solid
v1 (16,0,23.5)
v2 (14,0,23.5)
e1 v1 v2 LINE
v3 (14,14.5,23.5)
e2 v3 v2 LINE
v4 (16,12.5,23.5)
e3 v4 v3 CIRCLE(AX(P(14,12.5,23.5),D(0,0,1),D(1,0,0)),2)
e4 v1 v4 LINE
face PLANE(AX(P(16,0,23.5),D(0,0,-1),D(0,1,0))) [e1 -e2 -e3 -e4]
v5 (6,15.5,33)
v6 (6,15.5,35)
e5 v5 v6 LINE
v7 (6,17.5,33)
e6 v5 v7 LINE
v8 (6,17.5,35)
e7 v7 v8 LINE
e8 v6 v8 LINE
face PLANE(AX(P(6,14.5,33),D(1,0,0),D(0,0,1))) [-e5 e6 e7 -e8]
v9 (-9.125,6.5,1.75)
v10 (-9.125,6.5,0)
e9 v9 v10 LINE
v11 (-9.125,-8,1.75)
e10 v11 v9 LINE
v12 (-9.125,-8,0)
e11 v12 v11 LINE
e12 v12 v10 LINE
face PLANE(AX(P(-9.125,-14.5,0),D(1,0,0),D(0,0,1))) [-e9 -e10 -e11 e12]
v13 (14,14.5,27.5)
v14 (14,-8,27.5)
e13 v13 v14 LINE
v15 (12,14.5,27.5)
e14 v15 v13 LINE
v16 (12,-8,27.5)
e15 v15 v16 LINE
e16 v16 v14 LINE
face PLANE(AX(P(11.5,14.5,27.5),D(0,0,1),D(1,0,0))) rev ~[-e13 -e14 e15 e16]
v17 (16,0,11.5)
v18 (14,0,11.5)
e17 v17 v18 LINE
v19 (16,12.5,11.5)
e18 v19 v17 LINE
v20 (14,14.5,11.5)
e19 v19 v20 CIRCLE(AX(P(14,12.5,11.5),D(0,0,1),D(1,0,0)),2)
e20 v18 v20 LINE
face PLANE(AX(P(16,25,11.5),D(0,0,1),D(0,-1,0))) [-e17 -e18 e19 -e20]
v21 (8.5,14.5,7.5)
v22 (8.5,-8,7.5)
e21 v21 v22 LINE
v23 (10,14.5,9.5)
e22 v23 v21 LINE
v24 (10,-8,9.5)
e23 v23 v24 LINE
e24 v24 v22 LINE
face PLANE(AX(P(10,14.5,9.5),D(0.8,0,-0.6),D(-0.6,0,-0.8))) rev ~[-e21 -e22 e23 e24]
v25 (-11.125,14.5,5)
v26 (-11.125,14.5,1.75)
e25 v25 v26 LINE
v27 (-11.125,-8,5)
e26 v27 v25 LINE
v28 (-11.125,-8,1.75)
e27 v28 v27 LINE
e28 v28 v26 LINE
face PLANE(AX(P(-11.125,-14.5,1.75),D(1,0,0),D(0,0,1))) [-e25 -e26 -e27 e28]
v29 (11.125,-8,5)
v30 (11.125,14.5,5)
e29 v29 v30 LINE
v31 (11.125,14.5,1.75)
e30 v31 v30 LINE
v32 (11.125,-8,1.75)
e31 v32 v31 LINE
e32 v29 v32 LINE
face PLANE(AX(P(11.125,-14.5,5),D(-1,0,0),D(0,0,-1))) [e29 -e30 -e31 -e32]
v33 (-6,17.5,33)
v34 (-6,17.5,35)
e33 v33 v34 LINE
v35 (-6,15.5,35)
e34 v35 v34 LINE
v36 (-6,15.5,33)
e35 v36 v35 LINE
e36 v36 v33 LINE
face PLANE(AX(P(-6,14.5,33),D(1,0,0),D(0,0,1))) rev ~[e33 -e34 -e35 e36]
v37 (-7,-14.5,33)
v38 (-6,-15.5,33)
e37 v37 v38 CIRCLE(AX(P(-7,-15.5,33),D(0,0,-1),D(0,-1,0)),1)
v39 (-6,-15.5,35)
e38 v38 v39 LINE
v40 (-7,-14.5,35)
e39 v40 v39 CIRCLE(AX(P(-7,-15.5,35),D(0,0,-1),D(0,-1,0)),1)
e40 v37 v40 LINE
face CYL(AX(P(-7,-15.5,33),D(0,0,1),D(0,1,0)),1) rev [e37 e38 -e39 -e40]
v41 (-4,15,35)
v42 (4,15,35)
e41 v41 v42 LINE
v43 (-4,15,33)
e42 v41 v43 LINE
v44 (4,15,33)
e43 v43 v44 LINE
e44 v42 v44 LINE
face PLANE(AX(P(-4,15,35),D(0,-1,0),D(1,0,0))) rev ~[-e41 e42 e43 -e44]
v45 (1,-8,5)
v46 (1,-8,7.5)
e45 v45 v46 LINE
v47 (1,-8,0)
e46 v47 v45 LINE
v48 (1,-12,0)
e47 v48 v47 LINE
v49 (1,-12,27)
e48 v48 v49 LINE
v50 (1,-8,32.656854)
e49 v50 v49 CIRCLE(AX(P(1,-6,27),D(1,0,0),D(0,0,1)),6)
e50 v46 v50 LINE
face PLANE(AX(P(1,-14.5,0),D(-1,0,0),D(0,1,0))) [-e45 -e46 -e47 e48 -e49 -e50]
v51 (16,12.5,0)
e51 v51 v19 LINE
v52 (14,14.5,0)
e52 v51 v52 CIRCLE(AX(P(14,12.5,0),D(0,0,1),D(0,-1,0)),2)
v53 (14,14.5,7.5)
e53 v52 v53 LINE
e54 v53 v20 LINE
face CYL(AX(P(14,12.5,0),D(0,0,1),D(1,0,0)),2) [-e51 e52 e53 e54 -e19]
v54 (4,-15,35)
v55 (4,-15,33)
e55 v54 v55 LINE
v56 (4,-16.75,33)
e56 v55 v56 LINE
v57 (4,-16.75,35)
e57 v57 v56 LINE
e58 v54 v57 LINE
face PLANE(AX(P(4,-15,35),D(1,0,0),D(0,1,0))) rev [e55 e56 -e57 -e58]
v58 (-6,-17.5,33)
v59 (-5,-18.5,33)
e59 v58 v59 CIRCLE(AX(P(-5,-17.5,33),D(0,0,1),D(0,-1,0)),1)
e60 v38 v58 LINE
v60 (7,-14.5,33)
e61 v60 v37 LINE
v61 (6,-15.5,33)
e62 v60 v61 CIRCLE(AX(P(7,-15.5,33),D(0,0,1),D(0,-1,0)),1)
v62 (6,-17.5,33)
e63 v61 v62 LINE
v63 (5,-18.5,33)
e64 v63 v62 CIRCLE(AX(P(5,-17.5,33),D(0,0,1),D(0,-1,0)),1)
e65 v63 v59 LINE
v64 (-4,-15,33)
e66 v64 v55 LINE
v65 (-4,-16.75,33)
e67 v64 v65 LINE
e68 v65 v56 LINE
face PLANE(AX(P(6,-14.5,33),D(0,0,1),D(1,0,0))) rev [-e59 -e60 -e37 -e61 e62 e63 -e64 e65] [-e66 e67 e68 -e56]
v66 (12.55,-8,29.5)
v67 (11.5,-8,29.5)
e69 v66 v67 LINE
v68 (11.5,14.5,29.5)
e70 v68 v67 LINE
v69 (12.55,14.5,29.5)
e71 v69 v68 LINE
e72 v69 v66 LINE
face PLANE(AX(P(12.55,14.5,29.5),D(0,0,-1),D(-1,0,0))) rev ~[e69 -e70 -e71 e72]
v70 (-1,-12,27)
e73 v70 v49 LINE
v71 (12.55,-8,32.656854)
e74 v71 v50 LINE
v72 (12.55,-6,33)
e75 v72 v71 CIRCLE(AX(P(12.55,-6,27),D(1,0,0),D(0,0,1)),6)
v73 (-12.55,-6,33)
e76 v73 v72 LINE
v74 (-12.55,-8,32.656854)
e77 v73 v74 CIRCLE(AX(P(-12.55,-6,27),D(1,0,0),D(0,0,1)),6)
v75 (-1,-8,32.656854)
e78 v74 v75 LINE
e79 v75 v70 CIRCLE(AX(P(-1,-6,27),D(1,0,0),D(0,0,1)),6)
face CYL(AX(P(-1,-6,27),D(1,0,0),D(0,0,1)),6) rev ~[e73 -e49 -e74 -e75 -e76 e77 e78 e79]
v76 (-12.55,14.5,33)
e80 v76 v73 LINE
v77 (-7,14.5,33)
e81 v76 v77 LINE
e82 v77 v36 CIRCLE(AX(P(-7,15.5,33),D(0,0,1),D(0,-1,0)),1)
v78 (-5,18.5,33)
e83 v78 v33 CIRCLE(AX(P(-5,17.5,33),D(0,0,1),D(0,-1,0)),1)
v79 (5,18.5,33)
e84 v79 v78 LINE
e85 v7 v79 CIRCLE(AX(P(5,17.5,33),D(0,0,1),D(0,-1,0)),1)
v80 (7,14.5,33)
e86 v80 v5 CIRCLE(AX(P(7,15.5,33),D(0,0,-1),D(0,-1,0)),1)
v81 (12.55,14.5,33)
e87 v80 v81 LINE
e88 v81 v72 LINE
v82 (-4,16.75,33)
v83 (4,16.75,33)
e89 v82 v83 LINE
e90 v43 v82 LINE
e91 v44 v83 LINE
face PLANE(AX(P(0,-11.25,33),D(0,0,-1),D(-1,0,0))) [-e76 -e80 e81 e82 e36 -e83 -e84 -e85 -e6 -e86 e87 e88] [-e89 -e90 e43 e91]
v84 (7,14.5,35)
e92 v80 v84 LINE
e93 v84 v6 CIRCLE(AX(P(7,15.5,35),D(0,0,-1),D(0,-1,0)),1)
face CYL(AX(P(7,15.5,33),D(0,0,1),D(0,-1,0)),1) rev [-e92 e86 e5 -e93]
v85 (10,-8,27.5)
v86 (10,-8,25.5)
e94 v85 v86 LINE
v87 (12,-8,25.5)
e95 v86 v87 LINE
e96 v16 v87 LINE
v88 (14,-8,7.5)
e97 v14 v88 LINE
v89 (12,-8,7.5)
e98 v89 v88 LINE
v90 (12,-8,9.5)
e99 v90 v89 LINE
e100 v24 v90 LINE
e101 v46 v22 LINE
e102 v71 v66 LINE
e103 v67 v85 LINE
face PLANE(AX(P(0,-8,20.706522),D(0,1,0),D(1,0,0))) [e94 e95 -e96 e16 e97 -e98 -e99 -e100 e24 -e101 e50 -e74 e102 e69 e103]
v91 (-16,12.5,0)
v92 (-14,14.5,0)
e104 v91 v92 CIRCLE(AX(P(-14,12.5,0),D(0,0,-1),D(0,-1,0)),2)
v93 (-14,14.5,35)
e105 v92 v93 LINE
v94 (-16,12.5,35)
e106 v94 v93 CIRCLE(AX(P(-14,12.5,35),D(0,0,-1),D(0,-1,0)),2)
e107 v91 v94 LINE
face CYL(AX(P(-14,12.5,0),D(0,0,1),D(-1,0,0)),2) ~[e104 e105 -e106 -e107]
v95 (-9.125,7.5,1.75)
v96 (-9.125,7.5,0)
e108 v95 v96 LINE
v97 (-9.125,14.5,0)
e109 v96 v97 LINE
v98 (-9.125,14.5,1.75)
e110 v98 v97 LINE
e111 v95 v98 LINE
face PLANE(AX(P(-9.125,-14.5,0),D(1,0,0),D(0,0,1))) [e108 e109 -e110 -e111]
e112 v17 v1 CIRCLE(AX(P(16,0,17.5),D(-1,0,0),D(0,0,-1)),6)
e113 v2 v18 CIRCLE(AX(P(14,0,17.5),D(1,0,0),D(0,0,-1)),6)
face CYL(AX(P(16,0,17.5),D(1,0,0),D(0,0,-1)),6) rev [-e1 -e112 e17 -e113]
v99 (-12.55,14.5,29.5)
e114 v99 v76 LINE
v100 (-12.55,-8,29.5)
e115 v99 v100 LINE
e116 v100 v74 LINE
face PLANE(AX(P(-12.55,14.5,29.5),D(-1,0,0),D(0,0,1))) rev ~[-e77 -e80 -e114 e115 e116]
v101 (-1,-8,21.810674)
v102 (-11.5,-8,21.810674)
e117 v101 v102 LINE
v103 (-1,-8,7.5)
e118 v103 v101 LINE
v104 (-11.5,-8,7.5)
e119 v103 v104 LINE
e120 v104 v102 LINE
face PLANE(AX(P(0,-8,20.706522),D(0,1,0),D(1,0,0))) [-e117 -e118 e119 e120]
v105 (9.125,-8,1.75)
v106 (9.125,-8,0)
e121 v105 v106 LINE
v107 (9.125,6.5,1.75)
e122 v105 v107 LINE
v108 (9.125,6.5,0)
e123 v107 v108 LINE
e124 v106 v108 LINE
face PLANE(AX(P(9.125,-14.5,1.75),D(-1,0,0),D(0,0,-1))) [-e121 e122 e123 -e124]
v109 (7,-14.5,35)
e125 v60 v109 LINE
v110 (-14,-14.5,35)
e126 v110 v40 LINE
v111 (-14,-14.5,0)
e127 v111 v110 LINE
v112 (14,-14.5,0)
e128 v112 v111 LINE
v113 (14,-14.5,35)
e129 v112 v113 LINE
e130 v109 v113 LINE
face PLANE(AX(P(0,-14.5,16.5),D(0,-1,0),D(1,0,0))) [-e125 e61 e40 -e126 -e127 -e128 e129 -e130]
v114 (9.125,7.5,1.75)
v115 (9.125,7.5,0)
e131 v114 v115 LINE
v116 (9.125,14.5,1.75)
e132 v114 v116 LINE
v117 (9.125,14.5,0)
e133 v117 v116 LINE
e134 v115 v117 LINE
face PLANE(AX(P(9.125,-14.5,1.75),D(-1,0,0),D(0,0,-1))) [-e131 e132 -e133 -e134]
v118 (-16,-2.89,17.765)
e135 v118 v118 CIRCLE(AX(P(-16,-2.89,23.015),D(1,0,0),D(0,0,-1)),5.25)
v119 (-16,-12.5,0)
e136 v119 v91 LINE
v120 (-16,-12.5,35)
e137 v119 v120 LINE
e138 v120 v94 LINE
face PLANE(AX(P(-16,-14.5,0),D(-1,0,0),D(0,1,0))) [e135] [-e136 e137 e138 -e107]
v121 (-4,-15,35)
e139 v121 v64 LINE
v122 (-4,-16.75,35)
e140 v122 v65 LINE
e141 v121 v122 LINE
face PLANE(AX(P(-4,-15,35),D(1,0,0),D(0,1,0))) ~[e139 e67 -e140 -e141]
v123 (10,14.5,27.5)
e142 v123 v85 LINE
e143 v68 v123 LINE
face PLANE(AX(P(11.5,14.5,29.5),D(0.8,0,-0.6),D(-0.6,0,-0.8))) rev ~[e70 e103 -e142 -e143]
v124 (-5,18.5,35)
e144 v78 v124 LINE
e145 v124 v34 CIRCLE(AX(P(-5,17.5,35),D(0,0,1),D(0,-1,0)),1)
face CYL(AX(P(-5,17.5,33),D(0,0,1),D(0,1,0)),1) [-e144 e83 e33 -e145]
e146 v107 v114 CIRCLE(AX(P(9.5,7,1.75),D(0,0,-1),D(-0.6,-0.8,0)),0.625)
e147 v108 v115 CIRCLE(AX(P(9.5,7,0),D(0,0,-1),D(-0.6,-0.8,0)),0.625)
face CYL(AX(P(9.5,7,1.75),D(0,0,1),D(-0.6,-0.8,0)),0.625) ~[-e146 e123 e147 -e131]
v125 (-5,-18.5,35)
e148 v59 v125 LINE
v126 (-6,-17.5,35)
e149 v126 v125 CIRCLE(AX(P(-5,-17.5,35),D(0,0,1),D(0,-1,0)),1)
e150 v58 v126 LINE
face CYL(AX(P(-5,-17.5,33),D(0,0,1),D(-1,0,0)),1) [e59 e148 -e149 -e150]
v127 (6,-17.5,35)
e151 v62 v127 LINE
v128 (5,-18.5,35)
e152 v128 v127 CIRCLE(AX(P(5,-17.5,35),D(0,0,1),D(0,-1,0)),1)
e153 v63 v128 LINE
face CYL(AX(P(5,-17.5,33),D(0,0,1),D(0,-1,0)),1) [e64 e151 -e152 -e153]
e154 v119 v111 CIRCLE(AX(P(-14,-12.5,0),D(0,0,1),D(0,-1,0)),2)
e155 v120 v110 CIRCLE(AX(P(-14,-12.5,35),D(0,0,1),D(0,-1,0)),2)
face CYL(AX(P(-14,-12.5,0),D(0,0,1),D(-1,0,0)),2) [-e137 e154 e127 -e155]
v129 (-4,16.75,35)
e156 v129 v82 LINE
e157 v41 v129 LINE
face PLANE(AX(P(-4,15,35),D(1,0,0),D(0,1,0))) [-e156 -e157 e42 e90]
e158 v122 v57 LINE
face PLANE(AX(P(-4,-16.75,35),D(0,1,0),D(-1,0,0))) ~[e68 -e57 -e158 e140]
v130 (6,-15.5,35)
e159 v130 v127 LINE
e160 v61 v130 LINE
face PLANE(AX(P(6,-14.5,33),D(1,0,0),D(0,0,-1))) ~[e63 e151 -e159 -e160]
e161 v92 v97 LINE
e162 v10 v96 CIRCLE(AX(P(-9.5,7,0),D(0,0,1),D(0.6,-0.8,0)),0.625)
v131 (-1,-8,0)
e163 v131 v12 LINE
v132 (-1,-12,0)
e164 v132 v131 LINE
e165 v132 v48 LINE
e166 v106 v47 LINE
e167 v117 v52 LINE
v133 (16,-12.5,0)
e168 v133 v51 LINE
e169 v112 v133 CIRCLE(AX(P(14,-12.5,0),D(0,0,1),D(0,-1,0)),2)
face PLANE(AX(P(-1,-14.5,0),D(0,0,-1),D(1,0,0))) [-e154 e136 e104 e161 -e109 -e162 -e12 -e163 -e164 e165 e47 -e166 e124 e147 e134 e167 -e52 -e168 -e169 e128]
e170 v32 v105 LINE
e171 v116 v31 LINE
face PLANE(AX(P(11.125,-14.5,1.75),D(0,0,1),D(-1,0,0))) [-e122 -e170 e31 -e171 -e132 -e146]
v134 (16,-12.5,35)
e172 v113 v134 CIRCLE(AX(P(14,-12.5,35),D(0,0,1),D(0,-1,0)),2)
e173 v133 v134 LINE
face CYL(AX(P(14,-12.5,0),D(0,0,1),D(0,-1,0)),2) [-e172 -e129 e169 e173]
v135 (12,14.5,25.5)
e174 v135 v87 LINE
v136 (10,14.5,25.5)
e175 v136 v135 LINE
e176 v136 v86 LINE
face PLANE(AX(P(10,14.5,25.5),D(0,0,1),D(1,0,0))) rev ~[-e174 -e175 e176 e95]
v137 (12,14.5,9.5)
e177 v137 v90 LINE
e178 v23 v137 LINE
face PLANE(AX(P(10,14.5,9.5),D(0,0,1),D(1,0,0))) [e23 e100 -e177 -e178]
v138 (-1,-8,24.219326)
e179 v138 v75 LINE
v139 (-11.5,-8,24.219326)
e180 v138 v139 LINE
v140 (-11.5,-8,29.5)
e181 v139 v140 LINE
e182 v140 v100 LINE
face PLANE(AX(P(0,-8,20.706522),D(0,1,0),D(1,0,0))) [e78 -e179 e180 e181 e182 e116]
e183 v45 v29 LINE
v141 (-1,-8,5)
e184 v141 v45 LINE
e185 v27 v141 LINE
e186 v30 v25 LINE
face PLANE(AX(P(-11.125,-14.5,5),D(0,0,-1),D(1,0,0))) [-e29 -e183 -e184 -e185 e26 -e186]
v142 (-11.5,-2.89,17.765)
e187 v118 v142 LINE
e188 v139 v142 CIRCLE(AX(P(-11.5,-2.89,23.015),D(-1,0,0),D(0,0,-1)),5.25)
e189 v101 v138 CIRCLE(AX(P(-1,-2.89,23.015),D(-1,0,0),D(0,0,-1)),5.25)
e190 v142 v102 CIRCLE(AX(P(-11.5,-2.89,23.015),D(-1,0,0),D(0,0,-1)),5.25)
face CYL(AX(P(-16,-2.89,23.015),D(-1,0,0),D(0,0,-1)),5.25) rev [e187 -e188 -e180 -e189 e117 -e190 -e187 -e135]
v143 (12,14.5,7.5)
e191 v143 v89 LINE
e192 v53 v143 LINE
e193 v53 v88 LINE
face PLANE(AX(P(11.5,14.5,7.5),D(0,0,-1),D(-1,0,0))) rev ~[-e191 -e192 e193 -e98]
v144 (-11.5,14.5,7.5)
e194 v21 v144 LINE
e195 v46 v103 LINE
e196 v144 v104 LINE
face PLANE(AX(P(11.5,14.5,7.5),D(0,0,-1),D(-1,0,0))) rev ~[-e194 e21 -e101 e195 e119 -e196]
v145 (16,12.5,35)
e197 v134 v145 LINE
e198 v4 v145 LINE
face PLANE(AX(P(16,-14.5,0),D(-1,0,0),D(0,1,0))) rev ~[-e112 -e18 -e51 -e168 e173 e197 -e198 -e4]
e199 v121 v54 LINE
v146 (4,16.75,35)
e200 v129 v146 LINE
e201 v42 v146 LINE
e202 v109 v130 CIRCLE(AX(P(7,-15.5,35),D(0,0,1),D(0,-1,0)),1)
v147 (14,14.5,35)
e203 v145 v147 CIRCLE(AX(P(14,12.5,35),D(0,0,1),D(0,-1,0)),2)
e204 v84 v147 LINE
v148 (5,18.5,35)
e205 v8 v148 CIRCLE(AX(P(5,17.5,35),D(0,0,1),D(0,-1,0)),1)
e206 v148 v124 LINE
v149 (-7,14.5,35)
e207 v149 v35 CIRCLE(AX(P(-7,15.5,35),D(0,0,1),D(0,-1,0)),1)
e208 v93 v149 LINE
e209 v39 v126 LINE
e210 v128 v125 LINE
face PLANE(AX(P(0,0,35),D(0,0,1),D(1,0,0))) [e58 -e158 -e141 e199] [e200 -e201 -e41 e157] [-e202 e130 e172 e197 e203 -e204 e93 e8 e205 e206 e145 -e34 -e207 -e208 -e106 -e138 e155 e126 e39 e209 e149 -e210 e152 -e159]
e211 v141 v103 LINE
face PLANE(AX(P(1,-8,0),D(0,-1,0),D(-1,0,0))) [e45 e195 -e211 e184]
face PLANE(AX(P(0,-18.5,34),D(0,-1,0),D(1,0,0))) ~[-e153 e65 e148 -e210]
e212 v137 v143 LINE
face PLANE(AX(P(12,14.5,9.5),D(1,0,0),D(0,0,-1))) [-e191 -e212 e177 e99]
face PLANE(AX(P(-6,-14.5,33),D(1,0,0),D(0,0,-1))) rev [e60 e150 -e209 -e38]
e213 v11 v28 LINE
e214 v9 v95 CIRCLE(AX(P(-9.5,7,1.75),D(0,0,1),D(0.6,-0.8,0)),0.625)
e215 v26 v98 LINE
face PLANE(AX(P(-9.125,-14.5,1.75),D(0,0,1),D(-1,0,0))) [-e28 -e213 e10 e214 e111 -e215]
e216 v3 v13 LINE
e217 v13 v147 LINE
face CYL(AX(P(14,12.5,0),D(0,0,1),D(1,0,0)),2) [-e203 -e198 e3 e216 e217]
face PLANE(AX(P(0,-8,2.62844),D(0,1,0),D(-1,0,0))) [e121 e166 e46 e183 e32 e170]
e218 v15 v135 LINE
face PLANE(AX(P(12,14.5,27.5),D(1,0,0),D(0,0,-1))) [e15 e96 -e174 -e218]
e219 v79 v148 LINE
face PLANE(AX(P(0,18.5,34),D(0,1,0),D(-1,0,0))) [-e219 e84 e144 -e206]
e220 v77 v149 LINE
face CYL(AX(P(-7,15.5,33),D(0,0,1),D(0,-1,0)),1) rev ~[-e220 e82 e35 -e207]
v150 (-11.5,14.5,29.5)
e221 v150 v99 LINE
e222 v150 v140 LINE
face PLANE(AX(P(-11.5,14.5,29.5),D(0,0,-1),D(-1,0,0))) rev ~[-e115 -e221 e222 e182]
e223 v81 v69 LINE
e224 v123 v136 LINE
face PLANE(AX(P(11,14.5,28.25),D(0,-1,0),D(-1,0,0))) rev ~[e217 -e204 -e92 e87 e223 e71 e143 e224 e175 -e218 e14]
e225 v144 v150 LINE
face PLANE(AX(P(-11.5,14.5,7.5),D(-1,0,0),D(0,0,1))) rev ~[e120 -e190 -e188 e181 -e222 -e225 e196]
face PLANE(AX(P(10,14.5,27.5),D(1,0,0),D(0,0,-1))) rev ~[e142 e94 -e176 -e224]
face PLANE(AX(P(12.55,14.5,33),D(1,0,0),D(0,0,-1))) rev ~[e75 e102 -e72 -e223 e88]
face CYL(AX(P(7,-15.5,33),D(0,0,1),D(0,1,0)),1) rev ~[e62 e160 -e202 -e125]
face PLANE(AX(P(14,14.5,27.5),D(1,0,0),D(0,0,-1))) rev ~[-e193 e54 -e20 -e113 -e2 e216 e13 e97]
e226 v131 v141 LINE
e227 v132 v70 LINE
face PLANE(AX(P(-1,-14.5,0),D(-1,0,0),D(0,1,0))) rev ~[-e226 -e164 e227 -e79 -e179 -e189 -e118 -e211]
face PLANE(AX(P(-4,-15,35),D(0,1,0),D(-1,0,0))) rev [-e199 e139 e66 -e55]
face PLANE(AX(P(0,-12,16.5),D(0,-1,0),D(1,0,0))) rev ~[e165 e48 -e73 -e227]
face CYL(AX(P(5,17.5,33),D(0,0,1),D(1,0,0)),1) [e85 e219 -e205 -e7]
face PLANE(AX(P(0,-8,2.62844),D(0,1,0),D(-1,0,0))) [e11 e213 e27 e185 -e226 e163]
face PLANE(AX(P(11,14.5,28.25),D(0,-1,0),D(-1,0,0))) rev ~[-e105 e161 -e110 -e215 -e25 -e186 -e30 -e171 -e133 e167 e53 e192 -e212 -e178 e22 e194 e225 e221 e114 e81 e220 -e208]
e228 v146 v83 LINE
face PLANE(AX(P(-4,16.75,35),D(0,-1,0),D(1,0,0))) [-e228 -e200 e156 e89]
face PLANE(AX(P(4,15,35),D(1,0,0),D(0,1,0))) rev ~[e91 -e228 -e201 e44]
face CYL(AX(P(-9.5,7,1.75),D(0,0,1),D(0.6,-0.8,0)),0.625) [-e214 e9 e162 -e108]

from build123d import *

# Parameters (mm, degrees)
SKETCH1_W                         = 32
SKETCH1_H                         = 29
BOSS_EXTRUDE1_DEPTH               = 35
FILLET1_R                         = 2
SLOT_FOR_COIL_DEPTH               = 1
SLOT_FOR_COIL_DEPTH_BACK          = 30
BOSS_EXTRUDE2_DEPTH               = 6.5
BOSS_EXTRUDE3_DEPTH               = 1.75
SKETCH5_W                         = 2
SKETCH5_H                         = 6.5
SLOT_TO_FEED_IN_WIRE_DEPTH        = 33
SLOT_FO_PCB_DEPTH                 = 22.5
SKETCH7_W                         = 2
SKETCH7_H                         = 33
BOSS_EXTRUDE4_DEPTH               = 2.5
FILLET2_R                         = 6
ROD_MOUNT_SLOT_REACH              = 34
SKETCH14_W                        = 2.5
SKETCH14_H                        = 20
SIDE_CAVITY_FOR_MOUNT_PLATE_DEPTH = 22.5
SKETCH16_W                        = 2
SKETCH16_H                        = 2
SIDE_STOPS_FOR_MOUNT_PLATE_DEPTH  = 22.5
BOSS_EXTRUDE6_DEPTH               = 22.5
SKETCH21_W                        = 12
SKETCH21_H                        = 2
BOSS_EXTRUDE7_DEPTH               = 4
SKETCH23_W                        = 8
SKETCH23_H                        = 1.75
CUT_EXTRUDE7_DEPTH                = 2
FILLET3_R                         = 1
CUT_EXTRUDE8_REACH                = 34
SKETCH26_R                        = 5.25


with BuildPart() as part:
    # Sketch1 → Boss-Extrude1 (new body)
    with BuildSketch(Plane.XY):
        Rectangle(SKETCH1_W, SKETCH1_H)
    extrude(amount=BOSS_EXTRUDE1_DEPTH)

    # Fillet1
    fillet1_edges = [part.edges().sort_by_distance(p)[0] for p in [
        (16, -14.5, 17.5),
        (-16, -14.5, 17.5),
        (-16, 14.5, 17.5),
        (16, 14.5, 17.5),
    ]]
    fillet(fillet1_edges, radius=FILLET1_R)

    # Sketch2 → Slot for Coil (cut, two sides)
    with BuildSketch(Plane.XZ.offset(14.5)) as slot_for_coil_sk:
        Polygon((-9.125, 0), (-9.125, 1.75), (-11.125, 1.75), (-11.125, 5), (11.125, 5), (11.125, 1.75), (9.125, 1.75), (9.125, 0), align=None)
    extrude(amount=SLOT_FOR_COIL_DEPTH, mode=Mode.SUBTRACT)
    extrude(slot_for_coil_sk.sketch, amount=-SLOT_FOR_COIL_DEPTH_BACK, mode=Mode.SUBTRACT)

    # Sketch3 → Boss-Extrude2 (add)
    with BuildSketch(Plane.XZ.offset(14.5)):
        Polygon((-9.125, 0), (-9.125, 1.75), (-11.125, 1.75), (-11.125, 5), (11.125, 5), (11.125, 1.75), (9.125, 1.75), (9.125, 0), align=None)
    extrude(amount=-BOSS_EXTRUDE2_DEPTH)

    # Sketch4 → Boss-Extrude3 (add)
    with BuildSketch(Plane(origin=(0, 0, 1.75), x_dir=(-1, 0, 0), z_dir=(0, 0, -1))):
        with BuildLine():
            Line((-9.125, 7.5), (-9.125, 6.5))
            ThreePointArc((-9.125, 6.5), (-8.875, 7), (-9.125, 7.5))
        make_face()
    boss_extrude3 = extrude(amount=BOSS_EXTRUDE3_DEPTH)

    # Mirror1: Boss-Extrude3 across plane
    add(boss_extrude3.mirror(Plane(origin=(0, 0, 0), x_dir=(0, 0, 1), z_dir=(1, 0, 0))))

    # Sketch5 → slot to feed in wire (cut)
    with BuildSketch(Plane(origin=(0, 0, 0), x_dir=(-1, 0, 0), z_dir=(0, 0, -1))):
        with Locations((0, -11.25)):
            Rectangle(SKETCH5_W, SKETCH5_H)
    extrude(amount=-SLOT_TO_FEED_IN_WIRE_DEPTH, mode=Mode.SUBTRACT)

    # Sketch6 → slot fo PCB (cut)
    with BuildSketch(Plane(origin=(0, 14.5, 0), x_dir=(1, 0, 0), z_dir=(0, 1, 0))):
        Polygon((11.5, -7.5), (-11.5, -7.5), (-11.5, -29.5), (-12.55, -29.5), (-12.55, -33), (12.55, -33), (12.55, -29.5), (11.5, -29.5), align=None)
    extrude(amount=-SLOT_FO_PCB_DEPTH, mode=Mode.SUBTRACT)

    # Sketch7 → Boss-Extrude4 (add)
    with BuildSketch(Plane.XZ.offset(14.5)):
        with Locations((0, 16.5)):
            Rectangle(SKETCH7_W, SKETCH7_H)
    extrude(amount=-BOSS_EXTRUDE4_DEPTH)

    # Fillet2
    fillet2_edges = [part.edges().sort_by_distance(p)[0] for p in [
        (0, -12, 33),
    ]]
    fillet(fillet2_edges, radius=FILLET2_R)

    # Sketch11 → Rod Mount Slot (cut, up to next)
    with BuildSketch(Plane(origin=(16, 0, 44), x_dir=(0, 0, -1), z_dir=(1, 0, 0)), mode=Mode.PRIVATE) as rod_mount_slot_sk1:
        with BuildLine():
            Line((32.5, 25), (32.5, 0))
            ThreePointArc((32.5, 0), (26.5, -6), (20.5, 0))
            Line((20.5, 0), (20.5, 25))
            ThreePointArc((20.5, 25), (26.5, 31), (32.5, 25))
        make_face()
    rod_mount_slot_tool1 = extrude(rod_mount_slot_sk1.sketch, amount=-ROD_MOUNT_SLOT_REACH, mode=Mode.PRIVATE) & part.part
    add(rod_mount_slot_tool1.solids().sort_by_distance((16, 12.5, 17.5))[0], mode=Mode.SUBTRACT)

    # Sketch14 → Side cavity for mount plate (cut)
    with BuildSketch(Plane(origin=(0, 14.5, 0), x_dir=(1, 0, 0), z_dir=(0, 1, 0))):
        with Locations((12.75, -17.5)):
            Rectangle(SKETCH14_W, SKETCH14_H)
    extrude(amount=-SIDE_CAVITY_FOR_MOUNT_PLATE_DEPTH, mode=Mode.SUBTRACT)

    # Sketch16 → Side stops for mount plate (add)
    with BuildSketch(Plane(origin=(0, 14.5, 0), x_dir=(1, 0, 0), z_dir=(0, 1, 0))):
        with Locations((11, -8.5)):
            Rectangle(SKETCH16_W, SKETCH16_H)
        with Locations((11, -26.5)):
            Rectangle(SKETCH16_W, SKETCH16_H)
    extrude(amount=-SIDE_STOPS_FOR_MOUNT_PLATE_DEPTH)

    # Sketch20 → Boss-Extrude6 (add)
    with BuildSketch(Plane(origin=(0, 14.5, 0), x_dir=(1, 0, 0), z_dir=(0, 1, 0))):
        Polygon((11.5, -29.5), (10, -27.5), (11.5, -27.5), align=None)
        Polygon((10, -9.5), (8.5, -7.5), (10, -7.5), align=None)
    extrude(amount=-BOSS_EXTRUDE6_DEPTH)

    # Sketch21 → Boss-Extrude7 (add)
    with BuildSketch(Plane(origin=(0, 14.5, 0), x_dir=(-1, 0, 0), z_dir=(0, 1, 0))):
        with Locations((0, 34)):
            Rectangle(SKETCH21_W, SKETCH21_H)
    boss_extrude7 = extrude(amount=BOSS_EXTRUDE7_DEPTH)

    # Sketch23 → Cut-Extrude7 (cut)
    with BuildSketch(Plane.XY.offset(35)):
        with Locations((0, 15.875)):
            Rectangle(SKETCH23_W, SKETCH23_H)
    cut_extrude7 = extrude(amount=-CUT_EXTRUDE7_DEPTH, mode=Mode.SUBTRACT)

    # Mirror3: Boss-Extrude7, Cut-Extrude7 across plane
    add(boss_extrude7.mirror(Plane.ZX))
    add(cut_extrude7.mirror(Plane.ZX), mode=Mode.SUBTRACT)

    # Fillet3
    fillet3_edges = [part.edges().sort_by_distance(p)[0] for p in [
        (6, 14.5, 34),
        (-6, 14.5, 34),
        (6, 18.5, 34),
        (-6, 18.5, 34),
        (6, -18.5, 34),
        (-6, -18.5, 34),
        (6, -14.5, 34),
        (-6, -14.5, 34),
    ]]
    fillet(fillet3_edges, radius=FILLET3_R)

    # Sketch26 → Cut-Extrude8 (cut, up to next)
    with BuildSketch(Plane(origin=(-16, 0, 0), x_dir=(0, 0, -1), z_dir=(1, 0, 0)), mode=Mode.PRIVATE) as cut_extrude8_sk1:
        with Locations((-23.015, -2.89)):
            Circle(SKETCH26_R)
    cut_extrude8_tool1 = extrude(cut_extrude8_sk1.sketch, amount=CUT_EXTRUDE8_REACH, mode=Mode.PRIVATE) & part.part
    add(cut_extrude8_tool1.solids().sort_by_distance((-16, -2.89, 23.015))[0], mode=Mode.SUBTRACT)


solid = part.part
